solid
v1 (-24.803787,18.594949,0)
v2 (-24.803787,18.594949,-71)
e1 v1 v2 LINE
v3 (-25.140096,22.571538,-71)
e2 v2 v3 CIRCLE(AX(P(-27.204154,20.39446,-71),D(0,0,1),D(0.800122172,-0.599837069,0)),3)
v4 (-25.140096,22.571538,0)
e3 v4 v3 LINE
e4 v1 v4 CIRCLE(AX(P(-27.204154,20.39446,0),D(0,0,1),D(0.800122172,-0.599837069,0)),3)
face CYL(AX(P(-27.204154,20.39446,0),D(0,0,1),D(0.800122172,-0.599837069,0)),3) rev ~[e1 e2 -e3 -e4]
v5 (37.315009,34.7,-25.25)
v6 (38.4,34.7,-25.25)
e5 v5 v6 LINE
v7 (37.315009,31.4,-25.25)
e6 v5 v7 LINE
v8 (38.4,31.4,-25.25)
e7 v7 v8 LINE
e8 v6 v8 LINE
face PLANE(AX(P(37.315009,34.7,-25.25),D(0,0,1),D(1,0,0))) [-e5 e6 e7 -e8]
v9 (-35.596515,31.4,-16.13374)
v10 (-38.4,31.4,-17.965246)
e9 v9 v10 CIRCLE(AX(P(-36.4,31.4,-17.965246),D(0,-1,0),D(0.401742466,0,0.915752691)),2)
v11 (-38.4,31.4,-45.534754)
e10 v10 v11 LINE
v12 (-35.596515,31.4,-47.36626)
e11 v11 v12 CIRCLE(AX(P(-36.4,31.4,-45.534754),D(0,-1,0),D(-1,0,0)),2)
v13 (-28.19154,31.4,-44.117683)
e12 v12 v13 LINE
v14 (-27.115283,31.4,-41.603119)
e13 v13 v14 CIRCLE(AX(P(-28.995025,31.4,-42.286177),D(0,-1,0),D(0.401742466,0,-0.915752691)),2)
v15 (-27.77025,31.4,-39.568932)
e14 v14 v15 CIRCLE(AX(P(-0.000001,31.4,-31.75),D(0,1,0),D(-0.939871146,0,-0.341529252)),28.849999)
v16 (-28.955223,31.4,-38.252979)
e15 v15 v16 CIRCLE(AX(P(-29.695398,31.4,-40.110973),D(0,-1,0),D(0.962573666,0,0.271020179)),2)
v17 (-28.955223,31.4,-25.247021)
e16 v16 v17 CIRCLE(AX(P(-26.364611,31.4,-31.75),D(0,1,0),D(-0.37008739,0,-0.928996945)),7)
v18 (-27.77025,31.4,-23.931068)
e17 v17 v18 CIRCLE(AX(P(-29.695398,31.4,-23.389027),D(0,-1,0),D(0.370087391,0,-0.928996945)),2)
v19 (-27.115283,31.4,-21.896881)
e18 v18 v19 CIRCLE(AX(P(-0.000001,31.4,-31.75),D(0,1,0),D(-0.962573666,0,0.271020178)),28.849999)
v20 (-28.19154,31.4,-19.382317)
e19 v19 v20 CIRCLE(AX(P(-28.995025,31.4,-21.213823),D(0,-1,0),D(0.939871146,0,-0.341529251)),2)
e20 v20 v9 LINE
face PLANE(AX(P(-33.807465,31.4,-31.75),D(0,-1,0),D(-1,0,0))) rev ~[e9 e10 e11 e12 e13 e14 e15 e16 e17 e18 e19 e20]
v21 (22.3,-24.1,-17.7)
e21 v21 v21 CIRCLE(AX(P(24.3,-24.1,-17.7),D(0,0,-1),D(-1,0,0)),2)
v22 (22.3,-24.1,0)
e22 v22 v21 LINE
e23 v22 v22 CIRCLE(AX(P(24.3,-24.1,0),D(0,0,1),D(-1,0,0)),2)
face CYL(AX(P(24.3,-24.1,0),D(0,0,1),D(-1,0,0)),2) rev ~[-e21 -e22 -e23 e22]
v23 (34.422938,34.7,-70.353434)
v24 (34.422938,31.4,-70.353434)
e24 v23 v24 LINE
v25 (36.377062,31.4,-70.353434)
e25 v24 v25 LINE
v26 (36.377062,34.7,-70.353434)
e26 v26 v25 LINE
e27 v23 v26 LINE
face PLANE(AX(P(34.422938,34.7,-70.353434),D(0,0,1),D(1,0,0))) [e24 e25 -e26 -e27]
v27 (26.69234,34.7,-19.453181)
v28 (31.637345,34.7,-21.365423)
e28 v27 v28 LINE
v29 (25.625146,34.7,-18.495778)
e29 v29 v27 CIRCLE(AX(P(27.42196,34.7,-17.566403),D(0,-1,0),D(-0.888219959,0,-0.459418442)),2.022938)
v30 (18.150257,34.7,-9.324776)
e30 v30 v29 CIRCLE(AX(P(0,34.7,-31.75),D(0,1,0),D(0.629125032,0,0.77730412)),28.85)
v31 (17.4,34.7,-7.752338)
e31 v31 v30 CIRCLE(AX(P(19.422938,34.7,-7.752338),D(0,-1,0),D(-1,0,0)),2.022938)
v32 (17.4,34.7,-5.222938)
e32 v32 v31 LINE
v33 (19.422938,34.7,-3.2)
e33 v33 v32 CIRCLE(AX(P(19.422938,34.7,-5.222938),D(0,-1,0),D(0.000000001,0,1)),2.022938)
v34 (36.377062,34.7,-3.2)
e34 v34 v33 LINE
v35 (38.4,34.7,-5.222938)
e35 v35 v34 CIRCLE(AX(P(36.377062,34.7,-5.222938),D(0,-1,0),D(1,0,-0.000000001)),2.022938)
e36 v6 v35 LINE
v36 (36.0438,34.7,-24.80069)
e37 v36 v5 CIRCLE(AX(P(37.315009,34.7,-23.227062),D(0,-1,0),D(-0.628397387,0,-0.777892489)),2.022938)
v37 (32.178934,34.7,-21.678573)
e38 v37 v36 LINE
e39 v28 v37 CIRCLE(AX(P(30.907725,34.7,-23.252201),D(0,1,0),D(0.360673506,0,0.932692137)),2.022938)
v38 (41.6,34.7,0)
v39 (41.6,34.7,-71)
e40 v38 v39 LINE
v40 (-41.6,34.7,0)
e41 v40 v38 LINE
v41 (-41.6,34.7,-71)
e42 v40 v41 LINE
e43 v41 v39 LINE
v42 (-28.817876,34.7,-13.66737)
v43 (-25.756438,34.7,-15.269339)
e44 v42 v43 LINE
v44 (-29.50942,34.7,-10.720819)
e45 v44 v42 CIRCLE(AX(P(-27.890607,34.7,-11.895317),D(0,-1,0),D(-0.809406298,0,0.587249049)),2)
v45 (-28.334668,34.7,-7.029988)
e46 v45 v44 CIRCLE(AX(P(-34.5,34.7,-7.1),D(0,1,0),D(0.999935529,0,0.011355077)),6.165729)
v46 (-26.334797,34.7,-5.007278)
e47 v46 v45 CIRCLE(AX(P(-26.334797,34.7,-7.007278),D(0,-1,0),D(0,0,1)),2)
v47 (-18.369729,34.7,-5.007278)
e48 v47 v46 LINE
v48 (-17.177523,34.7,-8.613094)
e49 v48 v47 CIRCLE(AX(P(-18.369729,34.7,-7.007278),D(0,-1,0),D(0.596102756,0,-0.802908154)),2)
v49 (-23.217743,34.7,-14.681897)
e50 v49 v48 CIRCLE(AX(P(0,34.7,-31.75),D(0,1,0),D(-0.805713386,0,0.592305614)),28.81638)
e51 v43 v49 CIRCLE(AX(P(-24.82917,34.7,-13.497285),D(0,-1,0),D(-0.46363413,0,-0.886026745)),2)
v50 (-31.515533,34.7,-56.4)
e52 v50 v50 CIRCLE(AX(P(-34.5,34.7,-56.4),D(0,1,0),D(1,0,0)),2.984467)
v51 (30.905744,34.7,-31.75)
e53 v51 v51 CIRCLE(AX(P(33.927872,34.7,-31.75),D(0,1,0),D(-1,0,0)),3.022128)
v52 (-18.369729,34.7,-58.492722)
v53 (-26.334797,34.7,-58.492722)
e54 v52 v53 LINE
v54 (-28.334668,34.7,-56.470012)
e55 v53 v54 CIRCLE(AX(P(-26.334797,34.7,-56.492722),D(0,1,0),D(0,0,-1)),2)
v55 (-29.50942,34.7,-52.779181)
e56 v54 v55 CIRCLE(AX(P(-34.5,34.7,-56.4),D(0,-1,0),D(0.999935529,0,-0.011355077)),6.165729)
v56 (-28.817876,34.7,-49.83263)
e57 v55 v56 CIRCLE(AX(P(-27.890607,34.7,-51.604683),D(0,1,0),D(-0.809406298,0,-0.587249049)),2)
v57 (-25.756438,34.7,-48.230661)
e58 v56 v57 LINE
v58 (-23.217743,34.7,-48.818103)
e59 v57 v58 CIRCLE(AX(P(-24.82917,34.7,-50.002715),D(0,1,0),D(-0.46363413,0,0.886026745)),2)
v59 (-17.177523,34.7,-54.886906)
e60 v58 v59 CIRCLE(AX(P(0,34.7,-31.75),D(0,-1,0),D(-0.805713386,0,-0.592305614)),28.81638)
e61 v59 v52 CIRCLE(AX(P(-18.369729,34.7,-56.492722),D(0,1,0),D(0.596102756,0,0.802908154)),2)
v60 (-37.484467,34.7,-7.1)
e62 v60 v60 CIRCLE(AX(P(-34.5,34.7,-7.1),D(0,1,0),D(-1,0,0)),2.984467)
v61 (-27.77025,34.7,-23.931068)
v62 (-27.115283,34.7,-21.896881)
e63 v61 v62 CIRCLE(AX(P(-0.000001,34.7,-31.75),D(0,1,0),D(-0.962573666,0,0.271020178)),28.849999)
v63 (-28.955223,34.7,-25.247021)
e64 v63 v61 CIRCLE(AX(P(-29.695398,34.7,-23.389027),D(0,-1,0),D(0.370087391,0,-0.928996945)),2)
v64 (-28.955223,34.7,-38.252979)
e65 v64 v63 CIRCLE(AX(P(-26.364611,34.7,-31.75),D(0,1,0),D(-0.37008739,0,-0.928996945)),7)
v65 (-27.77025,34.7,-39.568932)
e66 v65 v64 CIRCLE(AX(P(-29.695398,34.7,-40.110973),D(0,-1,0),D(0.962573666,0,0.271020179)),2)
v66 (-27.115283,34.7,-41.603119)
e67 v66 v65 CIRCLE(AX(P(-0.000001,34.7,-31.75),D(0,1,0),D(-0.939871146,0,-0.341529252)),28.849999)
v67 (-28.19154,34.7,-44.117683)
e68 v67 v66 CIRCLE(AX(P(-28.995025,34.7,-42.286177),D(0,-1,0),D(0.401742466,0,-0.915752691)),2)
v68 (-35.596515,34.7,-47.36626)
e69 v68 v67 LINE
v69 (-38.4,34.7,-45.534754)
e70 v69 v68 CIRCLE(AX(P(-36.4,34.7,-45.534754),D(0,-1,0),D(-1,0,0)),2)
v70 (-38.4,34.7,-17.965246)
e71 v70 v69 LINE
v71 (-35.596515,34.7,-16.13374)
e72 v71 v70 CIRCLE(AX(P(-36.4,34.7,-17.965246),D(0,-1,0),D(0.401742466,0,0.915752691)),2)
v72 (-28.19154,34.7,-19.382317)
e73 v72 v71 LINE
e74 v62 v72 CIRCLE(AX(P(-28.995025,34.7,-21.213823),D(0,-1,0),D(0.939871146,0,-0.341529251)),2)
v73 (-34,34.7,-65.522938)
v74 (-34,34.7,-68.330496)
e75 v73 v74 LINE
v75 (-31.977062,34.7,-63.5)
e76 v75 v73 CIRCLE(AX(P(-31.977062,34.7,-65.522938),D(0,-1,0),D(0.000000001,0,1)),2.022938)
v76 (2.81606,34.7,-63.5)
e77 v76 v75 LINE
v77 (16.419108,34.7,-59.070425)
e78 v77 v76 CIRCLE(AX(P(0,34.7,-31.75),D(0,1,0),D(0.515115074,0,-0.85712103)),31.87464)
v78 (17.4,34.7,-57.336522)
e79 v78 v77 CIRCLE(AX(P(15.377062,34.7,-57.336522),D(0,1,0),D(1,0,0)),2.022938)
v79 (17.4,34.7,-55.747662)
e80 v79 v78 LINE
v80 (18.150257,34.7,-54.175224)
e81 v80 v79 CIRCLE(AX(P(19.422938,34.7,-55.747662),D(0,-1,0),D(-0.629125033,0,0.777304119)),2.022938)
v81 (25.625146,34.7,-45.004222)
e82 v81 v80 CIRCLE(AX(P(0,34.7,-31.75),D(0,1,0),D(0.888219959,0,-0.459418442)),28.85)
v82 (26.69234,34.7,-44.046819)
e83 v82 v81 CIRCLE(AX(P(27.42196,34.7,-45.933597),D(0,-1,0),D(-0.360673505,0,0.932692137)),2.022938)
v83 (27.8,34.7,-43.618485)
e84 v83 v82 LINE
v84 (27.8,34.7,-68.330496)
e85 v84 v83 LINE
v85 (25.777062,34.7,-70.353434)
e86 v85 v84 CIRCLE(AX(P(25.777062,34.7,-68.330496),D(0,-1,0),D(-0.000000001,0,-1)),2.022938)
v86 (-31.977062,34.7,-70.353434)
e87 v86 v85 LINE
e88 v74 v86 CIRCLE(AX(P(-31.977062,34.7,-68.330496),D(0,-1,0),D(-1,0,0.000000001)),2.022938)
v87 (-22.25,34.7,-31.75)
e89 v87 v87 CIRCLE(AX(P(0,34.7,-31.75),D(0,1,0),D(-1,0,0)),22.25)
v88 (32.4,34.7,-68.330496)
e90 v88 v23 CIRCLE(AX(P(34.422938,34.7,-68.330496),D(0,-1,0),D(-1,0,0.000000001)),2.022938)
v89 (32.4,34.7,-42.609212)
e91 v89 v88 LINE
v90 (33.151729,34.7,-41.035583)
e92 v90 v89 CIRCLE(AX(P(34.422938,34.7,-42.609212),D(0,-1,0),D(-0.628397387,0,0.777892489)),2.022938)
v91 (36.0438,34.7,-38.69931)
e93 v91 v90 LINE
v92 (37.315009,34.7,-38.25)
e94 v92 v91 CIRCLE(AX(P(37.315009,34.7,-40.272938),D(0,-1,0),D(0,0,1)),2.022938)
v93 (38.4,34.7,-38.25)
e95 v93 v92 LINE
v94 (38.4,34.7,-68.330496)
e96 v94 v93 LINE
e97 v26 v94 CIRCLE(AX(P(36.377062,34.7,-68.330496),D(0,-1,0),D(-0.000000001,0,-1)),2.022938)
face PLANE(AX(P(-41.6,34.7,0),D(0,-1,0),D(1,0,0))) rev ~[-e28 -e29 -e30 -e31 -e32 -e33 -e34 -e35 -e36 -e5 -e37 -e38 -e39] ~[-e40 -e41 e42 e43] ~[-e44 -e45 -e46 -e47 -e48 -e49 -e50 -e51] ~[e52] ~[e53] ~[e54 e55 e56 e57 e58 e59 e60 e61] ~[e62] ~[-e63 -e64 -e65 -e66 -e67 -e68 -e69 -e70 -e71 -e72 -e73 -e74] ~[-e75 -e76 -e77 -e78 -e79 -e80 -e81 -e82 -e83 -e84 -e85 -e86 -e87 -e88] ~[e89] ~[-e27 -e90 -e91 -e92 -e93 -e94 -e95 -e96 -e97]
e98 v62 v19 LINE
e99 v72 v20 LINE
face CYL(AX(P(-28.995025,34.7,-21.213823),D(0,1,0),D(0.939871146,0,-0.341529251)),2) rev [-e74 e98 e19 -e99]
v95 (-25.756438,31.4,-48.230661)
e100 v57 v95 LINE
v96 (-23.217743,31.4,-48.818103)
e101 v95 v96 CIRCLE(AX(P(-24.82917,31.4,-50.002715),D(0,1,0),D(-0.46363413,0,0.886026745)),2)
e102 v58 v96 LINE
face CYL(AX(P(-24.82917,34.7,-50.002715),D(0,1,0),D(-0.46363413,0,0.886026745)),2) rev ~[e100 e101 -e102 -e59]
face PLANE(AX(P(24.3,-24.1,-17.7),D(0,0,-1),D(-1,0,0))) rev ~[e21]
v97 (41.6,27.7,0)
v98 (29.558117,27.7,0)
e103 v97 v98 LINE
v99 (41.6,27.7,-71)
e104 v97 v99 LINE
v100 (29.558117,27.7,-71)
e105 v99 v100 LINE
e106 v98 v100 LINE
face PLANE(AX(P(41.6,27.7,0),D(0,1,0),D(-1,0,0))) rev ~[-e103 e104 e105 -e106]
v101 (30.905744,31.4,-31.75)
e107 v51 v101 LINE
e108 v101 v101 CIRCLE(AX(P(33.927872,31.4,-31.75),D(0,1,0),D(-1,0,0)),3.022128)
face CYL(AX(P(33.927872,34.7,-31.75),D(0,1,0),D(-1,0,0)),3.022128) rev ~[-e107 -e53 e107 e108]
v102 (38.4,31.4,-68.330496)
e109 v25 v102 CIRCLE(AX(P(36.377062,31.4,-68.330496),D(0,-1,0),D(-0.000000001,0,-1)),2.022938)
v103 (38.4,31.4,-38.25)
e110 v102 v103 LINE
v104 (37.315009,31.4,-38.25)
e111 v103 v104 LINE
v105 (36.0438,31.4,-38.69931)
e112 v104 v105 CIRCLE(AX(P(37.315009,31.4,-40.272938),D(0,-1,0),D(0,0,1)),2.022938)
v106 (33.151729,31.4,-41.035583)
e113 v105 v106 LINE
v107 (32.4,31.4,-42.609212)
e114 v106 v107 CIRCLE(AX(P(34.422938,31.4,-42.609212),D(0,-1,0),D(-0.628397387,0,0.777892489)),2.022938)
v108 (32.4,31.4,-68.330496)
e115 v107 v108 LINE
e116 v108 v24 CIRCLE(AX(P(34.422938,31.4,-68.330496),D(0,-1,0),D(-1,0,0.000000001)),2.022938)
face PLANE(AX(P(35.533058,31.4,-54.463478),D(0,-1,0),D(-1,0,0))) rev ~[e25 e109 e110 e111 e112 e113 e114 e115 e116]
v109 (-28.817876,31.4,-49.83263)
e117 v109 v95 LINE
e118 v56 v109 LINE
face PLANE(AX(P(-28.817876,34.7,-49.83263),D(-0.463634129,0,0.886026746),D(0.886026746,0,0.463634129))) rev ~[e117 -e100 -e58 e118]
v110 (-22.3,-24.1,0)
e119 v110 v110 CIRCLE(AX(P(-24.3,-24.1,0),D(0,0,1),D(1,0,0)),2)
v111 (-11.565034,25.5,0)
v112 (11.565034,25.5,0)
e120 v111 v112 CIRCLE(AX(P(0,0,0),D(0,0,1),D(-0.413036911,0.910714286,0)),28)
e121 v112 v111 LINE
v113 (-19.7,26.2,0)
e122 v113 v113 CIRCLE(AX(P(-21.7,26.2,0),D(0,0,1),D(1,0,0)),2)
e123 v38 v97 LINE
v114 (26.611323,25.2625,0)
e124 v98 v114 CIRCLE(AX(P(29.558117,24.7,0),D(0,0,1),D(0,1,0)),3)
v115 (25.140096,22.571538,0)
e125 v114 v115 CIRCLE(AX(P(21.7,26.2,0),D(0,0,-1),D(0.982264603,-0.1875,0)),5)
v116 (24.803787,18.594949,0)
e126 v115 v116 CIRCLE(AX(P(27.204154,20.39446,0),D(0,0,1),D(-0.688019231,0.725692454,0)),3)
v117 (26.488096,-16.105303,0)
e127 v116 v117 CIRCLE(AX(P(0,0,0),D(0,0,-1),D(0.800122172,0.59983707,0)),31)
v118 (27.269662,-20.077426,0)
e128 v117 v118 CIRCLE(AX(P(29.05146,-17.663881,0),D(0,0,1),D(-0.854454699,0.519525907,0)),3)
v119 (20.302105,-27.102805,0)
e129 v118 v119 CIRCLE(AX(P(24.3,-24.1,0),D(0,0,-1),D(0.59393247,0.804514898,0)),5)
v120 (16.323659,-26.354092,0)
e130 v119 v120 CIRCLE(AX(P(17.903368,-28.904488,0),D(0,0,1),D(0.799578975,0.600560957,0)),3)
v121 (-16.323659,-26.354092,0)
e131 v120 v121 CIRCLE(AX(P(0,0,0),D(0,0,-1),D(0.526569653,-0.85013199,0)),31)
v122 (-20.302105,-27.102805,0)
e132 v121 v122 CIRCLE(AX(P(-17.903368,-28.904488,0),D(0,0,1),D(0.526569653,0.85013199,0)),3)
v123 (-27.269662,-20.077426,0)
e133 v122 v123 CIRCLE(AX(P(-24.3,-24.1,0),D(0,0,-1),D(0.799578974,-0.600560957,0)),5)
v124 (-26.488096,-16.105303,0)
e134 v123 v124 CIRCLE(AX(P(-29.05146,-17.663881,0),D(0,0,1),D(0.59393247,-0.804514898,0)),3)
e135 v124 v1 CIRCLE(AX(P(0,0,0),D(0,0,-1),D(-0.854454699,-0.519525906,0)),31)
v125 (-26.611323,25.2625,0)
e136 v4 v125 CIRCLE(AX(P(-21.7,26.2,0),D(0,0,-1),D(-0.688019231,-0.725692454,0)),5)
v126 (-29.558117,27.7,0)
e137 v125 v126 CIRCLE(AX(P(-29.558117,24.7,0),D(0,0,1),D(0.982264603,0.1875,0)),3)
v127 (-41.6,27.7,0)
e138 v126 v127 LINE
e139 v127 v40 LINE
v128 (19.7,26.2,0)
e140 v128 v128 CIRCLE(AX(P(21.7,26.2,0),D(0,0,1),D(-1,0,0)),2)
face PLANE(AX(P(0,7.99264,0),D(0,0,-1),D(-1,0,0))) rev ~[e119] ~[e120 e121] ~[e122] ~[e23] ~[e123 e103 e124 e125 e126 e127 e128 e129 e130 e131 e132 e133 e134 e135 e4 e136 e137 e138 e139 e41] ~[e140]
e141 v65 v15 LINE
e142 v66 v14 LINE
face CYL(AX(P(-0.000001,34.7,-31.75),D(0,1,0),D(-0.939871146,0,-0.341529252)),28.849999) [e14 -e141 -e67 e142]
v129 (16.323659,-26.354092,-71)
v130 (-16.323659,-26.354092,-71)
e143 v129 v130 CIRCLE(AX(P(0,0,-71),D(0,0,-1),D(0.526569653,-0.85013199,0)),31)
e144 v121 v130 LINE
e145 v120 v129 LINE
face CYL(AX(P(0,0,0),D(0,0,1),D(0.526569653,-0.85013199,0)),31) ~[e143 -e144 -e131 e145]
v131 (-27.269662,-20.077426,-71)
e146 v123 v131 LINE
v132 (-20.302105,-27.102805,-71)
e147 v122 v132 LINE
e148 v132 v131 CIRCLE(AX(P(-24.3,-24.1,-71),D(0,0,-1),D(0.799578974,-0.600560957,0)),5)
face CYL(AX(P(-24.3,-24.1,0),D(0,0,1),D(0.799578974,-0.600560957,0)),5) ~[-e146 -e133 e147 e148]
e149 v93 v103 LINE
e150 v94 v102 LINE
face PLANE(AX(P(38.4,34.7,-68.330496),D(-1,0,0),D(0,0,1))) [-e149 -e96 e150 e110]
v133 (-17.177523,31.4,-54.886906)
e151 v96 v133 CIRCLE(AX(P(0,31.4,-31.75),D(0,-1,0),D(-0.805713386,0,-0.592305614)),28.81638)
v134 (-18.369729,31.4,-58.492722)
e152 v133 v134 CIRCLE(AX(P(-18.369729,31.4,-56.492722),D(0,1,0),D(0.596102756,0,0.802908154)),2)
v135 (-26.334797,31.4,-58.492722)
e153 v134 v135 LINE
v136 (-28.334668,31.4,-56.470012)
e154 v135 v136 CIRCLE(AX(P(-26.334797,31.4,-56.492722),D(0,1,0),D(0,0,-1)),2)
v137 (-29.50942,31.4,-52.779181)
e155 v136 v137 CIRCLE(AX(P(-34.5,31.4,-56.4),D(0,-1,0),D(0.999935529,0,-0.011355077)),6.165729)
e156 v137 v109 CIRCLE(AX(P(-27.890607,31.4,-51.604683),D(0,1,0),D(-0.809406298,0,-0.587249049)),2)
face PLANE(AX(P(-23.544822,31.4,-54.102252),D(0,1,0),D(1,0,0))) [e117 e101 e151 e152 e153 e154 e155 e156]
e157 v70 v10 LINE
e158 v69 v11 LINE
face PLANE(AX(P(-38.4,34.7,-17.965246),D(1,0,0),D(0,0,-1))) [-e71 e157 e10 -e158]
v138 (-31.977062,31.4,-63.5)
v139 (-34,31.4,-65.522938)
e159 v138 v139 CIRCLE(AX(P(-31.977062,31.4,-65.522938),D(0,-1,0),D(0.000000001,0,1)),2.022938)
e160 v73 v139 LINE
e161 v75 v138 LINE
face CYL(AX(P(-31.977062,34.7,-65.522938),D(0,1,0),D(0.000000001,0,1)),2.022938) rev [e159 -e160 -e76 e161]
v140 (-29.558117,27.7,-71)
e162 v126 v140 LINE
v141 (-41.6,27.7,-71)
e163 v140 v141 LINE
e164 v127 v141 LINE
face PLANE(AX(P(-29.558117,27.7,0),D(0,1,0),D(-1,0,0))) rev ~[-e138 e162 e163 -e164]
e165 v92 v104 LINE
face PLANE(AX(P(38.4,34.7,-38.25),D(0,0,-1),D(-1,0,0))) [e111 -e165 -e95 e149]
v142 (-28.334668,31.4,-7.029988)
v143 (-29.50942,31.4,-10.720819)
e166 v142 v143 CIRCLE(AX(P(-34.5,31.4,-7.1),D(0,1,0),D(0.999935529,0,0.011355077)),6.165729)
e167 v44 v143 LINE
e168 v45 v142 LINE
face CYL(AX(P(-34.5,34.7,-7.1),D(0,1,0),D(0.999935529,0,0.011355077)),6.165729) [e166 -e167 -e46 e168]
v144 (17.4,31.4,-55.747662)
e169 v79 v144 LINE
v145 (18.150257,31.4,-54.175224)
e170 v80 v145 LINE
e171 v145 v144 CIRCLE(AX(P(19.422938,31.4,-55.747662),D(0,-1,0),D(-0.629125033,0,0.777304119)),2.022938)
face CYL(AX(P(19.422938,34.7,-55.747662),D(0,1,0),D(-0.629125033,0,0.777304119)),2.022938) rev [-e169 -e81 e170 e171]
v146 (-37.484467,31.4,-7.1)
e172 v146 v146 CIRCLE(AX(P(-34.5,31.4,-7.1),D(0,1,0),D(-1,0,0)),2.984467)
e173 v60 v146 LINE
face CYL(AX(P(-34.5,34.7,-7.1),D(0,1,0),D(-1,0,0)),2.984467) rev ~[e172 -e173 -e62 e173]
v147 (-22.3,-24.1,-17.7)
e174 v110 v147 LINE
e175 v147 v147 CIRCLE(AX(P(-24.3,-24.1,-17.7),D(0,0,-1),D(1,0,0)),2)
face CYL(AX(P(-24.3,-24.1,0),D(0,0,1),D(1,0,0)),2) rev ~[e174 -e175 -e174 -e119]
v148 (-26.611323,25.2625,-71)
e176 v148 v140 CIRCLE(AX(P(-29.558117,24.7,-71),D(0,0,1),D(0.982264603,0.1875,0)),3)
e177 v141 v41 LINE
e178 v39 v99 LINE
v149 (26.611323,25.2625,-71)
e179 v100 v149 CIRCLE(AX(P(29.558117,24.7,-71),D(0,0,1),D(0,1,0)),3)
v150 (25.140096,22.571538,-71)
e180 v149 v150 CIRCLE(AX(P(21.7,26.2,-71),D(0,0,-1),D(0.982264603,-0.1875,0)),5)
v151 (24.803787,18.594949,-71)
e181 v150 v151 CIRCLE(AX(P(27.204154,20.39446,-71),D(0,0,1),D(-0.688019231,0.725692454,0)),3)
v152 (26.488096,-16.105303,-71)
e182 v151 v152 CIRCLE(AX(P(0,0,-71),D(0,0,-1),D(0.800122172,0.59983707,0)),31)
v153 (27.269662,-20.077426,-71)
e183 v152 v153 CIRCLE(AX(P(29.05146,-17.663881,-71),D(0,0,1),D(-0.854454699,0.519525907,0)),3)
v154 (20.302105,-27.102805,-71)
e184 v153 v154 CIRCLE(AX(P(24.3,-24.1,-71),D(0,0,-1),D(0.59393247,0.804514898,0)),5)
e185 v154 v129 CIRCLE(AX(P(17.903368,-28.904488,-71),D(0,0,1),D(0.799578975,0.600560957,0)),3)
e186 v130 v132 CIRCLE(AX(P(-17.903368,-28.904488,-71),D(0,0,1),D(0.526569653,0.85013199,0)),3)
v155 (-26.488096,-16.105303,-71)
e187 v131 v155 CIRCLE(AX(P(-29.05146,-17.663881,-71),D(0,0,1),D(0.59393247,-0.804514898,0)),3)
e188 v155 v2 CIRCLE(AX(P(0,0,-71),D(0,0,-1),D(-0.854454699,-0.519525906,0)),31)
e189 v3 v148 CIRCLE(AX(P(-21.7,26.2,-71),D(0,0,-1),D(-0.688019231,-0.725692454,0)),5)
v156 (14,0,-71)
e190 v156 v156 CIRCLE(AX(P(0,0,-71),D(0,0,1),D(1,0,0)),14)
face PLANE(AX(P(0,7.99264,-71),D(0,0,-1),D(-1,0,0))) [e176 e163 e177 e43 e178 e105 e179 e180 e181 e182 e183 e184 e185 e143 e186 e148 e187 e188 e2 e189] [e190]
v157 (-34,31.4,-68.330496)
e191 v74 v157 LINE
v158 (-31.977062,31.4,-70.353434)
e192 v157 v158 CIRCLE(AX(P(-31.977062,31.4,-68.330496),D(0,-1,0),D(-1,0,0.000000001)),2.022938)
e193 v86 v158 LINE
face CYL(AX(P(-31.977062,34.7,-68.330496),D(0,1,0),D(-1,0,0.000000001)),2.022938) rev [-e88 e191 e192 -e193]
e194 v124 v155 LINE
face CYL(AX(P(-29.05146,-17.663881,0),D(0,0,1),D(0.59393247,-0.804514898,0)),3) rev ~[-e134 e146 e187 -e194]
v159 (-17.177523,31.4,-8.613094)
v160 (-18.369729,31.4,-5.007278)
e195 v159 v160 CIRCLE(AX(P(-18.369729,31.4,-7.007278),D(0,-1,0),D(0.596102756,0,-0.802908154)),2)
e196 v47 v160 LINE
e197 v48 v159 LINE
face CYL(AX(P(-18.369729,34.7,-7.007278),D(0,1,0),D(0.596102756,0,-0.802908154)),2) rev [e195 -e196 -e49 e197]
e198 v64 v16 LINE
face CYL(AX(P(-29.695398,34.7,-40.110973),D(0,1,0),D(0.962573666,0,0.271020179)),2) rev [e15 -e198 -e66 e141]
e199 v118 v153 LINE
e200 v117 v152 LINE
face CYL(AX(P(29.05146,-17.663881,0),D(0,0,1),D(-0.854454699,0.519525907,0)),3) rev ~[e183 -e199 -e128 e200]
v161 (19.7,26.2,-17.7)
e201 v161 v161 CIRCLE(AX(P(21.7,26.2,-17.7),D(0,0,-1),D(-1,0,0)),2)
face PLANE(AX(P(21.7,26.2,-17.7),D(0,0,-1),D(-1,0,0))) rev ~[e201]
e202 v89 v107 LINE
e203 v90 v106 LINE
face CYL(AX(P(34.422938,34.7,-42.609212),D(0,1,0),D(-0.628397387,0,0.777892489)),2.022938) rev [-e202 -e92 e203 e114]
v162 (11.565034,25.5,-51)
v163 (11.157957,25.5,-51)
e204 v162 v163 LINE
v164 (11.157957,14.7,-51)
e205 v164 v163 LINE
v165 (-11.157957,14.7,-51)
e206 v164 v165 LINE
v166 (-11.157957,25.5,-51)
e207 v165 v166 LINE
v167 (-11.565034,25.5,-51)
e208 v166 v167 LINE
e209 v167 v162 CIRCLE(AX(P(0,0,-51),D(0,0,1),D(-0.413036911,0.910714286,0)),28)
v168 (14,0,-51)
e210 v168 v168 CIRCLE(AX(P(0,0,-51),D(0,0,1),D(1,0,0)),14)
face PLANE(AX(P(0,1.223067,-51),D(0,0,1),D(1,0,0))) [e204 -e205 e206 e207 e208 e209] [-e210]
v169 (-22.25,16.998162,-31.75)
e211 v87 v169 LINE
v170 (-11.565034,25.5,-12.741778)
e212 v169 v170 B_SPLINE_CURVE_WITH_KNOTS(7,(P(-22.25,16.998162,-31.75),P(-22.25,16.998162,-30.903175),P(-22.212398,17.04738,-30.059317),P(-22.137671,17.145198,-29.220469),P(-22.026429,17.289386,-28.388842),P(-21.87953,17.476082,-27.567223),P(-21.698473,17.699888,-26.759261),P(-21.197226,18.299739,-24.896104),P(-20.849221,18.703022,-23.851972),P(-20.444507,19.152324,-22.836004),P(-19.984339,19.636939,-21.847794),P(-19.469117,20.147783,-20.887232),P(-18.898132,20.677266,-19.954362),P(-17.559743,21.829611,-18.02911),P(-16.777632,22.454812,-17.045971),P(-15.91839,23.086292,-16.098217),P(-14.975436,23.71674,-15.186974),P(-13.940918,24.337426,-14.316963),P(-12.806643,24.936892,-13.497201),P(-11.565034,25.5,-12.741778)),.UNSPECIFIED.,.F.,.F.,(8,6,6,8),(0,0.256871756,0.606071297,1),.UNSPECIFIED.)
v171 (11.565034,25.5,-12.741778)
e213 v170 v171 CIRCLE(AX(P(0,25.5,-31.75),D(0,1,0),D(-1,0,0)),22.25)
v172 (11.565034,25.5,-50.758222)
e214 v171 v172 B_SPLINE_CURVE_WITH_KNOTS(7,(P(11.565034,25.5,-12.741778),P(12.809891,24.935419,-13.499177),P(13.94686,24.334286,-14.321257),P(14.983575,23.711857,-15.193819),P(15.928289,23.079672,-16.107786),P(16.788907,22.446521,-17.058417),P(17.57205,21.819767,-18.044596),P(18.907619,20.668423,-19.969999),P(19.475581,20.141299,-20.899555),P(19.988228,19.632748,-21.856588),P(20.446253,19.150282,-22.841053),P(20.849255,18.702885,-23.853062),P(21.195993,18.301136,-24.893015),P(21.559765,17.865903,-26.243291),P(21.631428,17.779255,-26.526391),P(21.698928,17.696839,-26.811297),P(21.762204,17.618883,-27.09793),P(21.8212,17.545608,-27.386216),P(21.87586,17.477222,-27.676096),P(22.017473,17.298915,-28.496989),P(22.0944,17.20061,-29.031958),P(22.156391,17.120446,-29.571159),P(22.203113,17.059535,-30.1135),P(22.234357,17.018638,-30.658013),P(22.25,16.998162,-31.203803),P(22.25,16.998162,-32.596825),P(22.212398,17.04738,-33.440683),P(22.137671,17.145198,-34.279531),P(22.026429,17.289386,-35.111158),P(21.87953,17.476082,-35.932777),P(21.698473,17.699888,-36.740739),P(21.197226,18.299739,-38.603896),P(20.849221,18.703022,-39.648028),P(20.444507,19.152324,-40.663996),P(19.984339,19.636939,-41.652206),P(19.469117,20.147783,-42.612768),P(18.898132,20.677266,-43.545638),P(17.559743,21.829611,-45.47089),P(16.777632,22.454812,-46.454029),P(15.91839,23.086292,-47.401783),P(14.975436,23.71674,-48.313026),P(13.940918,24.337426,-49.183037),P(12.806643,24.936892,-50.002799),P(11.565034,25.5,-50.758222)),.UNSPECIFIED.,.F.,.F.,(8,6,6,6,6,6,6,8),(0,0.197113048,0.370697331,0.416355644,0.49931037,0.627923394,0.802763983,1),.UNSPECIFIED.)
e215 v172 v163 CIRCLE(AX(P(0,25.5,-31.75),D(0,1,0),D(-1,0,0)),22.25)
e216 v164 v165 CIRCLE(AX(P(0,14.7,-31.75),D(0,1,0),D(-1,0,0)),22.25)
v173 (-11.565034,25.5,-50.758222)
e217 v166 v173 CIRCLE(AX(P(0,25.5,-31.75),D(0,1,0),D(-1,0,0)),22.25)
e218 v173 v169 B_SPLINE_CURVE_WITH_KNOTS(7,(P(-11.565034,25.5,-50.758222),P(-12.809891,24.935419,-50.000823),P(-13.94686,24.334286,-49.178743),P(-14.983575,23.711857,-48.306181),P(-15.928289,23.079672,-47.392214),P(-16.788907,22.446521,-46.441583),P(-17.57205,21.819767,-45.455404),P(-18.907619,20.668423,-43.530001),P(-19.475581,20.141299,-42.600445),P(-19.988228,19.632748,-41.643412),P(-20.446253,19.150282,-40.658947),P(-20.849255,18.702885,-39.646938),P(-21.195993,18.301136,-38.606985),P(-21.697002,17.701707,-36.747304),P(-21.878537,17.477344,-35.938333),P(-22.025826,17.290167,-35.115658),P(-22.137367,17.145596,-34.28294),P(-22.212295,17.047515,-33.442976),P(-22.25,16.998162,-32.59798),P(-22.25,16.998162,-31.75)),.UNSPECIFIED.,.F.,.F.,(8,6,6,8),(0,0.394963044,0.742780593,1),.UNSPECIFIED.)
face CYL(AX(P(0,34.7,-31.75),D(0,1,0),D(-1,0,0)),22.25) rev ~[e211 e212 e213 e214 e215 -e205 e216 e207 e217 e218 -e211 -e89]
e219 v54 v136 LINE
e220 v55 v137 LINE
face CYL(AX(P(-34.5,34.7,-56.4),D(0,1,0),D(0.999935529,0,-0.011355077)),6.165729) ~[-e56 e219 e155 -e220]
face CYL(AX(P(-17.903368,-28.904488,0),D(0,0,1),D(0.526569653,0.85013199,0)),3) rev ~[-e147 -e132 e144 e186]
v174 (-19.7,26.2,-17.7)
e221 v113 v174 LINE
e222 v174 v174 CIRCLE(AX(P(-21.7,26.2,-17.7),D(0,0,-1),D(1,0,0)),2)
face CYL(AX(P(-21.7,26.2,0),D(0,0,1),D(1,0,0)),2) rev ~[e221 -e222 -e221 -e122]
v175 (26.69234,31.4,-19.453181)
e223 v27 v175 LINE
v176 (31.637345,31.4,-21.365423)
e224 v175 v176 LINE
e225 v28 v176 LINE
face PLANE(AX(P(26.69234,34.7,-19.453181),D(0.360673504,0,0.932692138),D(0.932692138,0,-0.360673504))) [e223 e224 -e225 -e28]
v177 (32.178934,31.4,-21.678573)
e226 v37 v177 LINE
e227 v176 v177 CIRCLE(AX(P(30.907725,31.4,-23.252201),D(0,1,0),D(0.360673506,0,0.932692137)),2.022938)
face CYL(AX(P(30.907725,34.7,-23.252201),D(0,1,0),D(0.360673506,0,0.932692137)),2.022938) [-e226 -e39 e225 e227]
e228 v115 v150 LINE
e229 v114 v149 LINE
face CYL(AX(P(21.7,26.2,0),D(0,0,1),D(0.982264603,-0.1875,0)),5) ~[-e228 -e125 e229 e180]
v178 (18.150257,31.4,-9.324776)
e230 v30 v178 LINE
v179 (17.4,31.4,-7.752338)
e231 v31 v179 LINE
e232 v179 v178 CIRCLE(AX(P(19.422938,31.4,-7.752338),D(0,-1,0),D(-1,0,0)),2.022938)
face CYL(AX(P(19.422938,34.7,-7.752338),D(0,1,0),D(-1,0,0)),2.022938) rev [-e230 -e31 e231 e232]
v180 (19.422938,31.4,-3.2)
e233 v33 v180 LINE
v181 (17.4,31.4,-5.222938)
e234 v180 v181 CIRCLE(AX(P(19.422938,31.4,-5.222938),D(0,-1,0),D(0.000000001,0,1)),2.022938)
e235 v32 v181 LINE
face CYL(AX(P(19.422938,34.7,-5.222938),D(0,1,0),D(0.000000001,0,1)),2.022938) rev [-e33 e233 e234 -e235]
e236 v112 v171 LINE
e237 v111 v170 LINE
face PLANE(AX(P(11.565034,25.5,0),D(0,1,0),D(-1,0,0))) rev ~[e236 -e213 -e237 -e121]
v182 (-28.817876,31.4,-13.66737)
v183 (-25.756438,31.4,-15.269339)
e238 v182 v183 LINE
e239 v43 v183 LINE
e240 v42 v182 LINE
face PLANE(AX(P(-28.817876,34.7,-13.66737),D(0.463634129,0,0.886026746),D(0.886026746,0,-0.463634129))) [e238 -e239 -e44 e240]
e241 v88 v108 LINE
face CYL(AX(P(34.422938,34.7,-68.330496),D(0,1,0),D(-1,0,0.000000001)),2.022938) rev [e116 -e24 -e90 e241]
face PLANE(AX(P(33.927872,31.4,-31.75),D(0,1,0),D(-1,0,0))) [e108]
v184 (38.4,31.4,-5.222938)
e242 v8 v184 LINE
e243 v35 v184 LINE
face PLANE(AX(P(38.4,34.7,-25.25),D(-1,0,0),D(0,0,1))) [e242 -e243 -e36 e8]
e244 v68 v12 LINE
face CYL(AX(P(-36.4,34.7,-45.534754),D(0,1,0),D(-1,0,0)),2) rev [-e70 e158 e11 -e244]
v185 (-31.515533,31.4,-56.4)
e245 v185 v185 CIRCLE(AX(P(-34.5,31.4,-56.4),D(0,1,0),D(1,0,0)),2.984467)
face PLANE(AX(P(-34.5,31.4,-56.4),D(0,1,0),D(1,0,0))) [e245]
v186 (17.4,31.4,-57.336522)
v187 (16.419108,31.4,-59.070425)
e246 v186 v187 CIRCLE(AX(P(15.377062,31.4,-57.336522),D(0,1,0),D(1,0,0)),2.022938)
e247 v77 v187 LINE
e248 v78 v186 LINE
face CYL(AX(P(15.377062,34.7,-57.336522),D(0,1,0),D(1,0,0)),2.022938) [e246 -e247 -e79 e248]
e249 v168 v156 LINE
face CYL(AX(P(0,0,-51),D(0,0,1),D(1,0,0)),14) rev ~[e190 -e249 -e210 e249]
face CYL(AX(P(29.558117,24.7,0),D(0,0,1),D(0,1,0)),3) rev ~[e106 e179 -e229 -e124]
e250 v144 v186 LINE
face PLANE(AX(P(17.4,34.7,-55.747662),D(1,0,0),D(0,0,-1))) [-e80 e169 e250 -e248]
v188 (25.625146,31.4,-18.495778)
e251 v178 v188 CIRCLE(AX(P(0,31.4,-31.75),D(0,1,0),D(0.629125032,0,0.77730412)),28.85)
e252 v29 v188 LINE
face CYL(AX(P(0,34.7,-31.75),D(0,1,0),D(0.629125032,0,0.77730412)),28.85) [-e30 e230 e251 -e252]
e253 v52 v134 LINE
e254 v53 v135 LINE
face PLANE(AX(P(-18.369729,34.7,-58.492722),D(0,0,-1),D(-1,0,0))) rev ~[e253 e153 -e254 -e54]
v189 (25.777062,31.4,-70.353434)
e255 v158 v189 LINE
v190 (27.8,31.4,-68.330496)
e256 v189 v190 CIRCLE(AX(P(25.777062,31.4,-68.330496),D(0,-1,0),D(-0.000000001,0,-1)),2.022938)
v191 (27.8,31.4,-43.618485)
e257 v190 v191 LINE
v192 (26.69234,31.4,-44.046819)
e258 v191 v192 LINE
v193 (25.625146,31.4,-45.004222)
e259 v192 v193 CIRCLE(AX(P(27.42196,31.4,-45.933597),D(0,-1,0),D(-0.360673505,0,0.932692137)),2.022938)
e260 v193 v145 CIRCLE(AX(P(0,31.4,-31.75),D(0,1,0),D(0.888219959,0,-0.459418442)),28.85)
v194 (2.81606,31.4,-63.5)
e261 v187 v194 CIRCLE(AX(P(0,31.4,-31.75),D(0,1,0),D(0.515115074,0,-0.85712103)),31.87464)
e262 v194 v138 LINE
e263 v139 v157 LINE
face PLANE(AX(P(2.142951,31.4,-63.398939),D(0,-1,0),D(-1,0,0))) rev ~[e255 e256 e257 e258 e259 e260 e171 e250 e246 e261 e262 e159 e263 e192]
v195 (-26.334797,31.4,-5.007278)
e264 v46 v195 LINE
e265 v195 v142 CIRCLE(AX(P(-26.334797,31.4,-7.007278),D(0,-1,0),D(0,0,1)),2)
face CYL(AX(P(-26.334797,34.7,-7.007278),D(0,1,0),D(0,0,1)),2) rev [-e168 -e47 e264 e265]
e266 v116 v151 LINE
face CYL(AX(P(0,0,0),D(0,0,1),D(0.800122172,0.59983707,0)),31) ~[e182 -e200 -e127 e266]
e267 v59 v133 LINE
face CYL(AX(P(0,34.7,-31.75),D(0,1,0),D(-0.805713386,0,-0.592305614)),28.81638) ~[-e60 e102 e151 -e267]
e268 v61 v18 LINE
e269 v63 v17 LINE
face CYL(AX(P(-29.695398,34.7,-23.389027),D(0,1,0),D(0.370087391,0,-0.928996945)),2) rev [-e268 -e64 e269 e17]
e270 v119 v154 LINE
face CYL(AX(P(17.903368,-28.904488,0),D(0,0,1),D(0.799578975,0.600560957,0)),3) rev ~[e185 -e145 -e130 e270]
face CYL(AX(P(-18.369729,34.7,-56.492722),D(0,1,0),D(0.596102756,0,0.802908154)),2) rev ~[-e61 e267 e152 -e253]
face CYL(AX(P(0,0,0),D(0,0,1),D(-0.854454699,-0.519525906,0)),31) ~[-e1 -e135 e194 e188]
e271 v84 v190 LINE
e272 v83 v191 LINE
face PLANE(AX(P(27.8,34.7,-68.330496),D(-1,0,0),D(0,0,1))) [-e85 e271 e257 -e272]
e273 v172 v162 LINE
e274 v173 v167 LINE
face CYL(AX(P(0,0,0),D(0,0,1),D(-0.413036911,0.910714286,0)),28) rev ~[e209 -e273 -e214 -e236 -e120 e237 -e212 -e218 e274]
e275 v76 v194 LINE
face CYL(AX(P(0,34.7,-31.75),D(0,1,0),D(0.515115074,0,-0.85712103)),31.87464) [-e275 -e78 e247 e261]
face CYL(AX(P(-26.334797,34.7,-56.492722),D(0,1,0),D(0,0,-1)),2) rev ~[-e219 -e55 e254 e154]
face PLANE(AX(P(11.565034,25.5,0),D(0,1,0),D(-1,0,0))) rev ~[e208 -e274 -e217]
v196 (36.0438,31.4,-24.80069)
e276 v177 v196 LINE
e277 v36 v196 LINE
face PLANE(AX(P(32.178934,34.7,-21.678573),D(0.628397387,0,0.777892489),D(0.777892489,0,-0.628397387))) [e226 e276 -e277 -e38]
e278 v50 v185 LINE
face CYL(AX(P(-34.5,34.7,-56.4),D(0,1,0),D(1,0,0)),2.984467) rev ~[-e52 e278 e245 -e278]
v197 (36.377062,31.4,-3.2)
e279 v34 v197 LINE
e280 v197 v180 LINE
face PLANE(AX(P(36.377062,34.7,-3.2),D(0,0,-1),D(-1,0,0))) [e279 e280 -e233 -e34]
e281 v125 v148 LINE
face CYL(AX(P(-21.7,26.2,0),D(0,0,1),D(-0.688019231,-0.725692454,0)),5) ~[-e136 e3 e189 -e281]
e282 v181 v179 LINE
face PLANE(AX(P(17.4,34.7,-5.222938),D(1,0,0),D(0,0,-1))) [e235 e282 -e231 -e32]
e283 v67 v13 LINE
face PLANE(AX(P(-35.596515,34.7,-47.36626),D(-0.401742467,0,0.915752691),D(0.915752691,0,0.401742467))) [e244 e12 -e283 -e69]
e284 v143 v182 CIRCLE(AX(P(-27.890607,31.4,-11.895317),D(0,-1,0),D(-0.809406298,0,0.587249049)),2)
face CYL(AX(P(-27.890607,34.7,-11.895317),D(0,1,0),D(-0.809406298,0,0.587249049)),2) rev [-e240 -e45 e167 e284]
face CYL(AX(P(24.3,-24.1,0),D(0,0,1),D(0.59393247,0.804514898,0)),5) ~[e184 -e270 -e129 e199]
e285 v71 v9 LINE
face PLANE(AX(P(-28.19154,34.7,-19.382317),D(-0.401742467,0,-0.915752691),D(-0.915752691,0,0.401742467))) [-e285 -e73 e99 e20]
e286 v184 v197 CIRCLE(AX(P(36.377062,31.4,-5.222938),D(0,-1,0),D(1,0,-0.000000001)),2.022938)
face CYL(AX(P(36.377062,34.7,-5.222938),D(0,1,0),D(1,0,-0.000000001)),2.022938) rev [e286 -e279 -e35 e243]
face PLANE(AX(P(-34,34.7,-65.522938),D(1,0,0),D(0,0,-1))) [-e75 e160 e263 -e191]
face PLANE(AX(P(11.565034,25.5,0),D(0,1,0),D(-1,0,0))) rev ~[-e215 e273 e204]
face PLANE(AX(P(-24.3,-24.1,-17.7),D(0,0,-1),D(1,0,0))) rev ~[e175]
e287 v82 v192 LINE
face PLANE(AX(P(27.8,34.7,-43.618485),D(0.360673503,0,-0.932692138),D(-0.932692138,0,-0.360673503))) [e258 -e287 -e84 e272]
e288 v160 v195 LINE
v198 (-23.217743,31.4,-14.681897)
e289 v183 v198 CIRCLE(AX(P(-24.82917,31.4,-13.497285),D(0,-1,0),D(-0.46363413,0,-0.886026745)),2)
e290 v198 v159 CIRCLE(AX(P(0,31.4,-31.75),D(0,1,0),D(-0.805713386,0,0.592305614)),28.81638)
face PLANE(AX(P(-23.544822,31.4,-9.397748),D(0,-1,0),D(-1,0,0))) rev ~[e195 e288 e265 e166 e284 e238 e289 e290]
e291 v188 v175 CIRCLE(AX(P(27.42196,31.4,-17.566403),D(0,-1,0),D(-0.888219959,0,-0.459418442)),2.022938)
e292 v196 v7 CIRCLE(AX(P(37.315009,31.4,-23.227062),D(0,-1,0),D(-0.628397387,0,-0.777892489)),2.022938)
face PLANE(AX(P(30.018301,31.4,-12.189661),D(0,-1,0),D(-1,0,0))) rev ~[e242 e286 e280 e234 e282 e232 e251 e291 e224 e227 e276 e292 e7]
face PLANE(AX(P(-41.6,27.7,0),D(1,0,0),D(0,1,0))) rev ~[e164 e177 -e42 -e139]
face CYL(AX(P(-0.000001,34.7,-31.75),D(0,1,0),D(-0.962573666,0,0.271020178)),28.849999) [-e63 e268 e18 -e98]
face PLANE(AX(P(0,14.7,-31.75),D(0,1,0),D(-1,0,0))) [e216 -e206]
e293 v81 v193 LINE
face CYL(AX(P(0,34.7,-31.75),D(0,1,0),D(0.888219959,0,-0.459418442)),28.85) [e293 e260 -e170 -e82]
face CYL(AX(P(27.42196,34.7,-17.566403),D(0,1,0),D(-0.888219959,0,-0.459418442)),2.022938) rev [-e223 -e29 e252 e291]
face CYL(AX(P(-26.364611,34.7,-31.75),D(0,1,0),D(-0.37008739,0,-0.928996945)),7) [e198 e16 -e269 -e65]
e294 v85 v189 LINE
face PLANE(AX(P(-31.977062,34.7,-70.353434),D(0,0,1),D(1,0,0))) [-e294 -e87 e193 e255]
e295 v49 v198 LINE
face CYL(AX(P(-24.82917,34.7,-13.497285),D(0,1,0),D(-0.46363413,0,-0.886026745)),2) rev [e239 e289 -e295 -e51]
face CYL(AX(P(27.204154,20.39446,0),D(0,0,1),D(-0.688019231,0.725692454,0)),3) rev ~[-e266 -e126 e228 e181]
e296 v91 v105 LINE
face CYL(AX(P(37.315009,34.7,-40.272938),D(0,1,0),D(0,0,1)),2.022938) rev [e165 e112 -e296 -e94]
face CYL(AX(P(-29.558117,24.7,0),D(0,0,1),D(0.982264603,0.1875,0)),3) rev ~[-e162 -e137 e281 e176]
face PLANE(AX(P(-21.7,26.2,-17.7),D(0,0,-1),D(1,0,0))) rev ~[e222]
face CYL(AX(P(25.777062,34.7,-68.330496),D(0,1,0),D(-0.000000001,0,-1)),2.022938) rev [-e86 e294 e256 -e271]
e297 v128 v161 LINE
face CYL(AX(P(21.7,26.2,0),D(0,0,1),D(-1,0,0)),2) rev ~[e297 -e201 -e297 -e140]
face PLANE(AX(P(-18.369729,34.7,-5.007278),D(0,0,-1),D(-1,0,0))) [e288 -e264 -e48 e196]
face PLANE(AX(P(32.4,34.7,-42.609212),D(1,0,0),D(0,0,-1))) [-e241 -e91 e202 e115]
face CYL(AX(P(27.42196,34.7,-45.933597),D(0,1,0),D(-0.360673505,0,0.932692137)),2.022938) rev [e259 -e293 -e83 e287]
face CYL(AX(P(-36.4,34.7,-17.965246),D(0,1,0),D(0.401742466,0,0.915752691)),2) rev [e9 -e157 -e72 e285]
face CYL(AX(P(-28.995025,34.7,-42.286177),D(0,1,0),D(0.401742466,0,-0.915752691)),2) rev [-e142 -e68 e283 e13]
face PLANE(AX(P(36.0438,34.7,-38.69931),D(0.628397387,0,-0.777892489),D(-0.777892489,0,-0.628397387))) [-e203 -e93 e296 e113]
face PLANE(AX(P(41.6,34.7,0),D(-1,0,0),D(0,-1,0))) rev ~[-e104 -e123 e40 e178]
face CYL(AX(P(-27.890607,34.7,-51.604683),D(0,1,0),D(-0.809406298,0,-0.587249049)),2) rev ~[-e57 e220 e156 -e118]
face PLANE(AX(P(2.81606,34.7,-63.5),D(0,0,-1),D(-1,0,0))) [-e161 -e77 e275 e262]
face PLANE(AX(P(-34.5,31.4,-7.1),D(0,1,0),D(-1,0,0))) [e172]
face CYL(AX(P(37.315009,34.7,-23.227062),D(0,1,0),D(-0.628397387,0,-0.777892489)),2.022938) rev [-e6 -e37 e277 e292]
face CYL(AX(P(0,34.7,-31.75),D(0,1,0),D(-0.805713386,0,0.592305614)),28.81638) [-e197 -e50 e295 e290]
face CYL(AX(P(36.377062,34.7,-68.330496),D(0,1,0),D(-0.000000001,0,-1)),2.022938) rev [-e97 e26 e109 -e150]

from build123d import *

# Parameters (mm, degrees)
SKETCH1_R           = 2
BOSS_EXTRUDE1_DEPTH = 71
BOSS_EXTRUDE2_START = -20
BOSS_EXTRUDE2_DEPTH = 20
SKETCH4_R           = 22.25
CUT_EXTRUDE1_DEPTH  = 20
SKETCH5_R           = 3.022127891
SKETCH5_R_2         = 2.984467426
CUT_EXTRUDE2_DEPTH  = 3.3
BOSS_EXTRUDE3_START = -53.3
SKETCH6_R           = 2
BOSS_EXTRUDE3_DEPTH = 53.3
SKETCH7_R           = 22.25
CUT_EXTRUDE4_DEPTH  = 20
SKETCH8_R           = 14
CUT_EXTRUDE5_DEPTH  = 29


with BuildPart() as part:
    # Sketch1 → Boss-Extrude1 (new body)
    with BuildSketch(Plane.XY):
        with BuildLine():
            Line((-41.6, 34.7), (41.6, 34.7))
            Line((41.6, 34.7), (41.6, 27.7))
            Line((41.6, 27.7), (29.558116823, 27.7))
            ThreePointArc((29.558116823, 27.7), (27.645984505, 27.011655251), (26.611323014, 25.2625))
            ThreePointArc((26.611323014, 25.2625), (26.087125484, 23.80143168), (25.140096153, 22.571537728))
            ThreePointArc((25.140096153, 22.571537728), (24.214825318, 20.64727444), (24.803787329, 18.594949156))
            ThreePointArc((24.803787329, 18.594949156), (30.963546179, 1.502933138), (26.488095667, -16.1053031))
            ThreePointArc((26.488095667, -16.1053031), (26.107899632, -18.243064514), (27.269662352, -20.077425512))
            ThreePointArc((27.269662352, -20.077425512), (27.850113241, -27.620894202), (20.302105128, -27.102804788))
            ThreePointArc((20.302105128, -27.102804788), (18.458205593, -25.956241491), (16.323659246, -26.35409169))
            ThreePointArc((16.323659246, -26.35409169), (0, -31), (-16.323659246, -26.35409169))
            ThreePointArc((-16.323659246, -26.35409169), (-18.458205593, -25.956241491), (-20.302105128, -27.102804788))
            ThreePointArc((-20.302105128, -27.102804788), (-27.850113241, -27.620894202), (-27.269662352, -20.077425512))
            ThreePointArc((-27.269662352, -20.077425512), (-26.107899632, -18.243064514), (-26.488095667, -16.1053031))
            ThreePointArc((-26.488095667, -16.1053031), (-30.963546179, 1.502933138), (-24.803787329, 18.594949156))
            ThreePointArc((-24.803787329, 18.594949156), (-24.214825318, 20.64727444), (-25.140096153, 22.571537728))
            ThreePointArc((-25.140096153, 22.571537728), (-26.087125484, 23.80143168), (-26.611323014, 25.2625))
            ThreePointArc((-26.611323014, 25.2625), (-27.645984505, 27.011655251), (-29.558116823, 27.7))
            Line((-29.558116823, 27.7), (-41.6, 27.7))
            Line((-41.6, 27.7), (-41.6, 34.7))
        make_face()
        with Locations((-24.3, -24.1)):
            Circle(SKETCH1_R, mode=Mode.SUBTRACT)
        with Locations(Location((24.3, -24.1, 0), (0, 0, 180))):
            Circle(SKETCH1_R, mode=Mode.SUBTRACT)
        with Locations((-21.7, 26.2)):
            Circle(SKETCH1_R, mode=Mode.SUBTRACT)
        with Locations(Location((21.7, 26.2, 0), (0, 0, 180))):
            Circle(SKETCH1_R, mode=Mode.SUBTRACT)
        with BuildLine():
            Line((0, 25.5), (-11.565033506, 25.5))
            ThreePointArc((-11.565033506, 25.5), (0, -28), (11.565033506, 25.5))
            Line((11.565033506, 25.5), (0, 25.5))
        make_face(mode=Mode.SUBTRACT)
    extrude(amount=-BOSS_EXTRUDE1_DEPTH)

    # Sketch3 → Boss-Extrude2 (add)
    with BuildSketch(Plane(origin=(0, 0, -71), x_dir=(-1, 0, 0), z_dir=(0, 0, -1)).offset(BOSS_EXTRUDE2_START)):
        with BuildLine():
            Line((-11.565033506, 25.5), (11.565033506, 25.5))
            ThreePointArc((11.565033506, 25.5), (0, -28), (-11.565033506, 25.5))
        make_face()
    extrude(amount=BOSS_EXTRUDE2_DEPTH)

    # Sketch4 → Cut-Extrude1 (cut)
    with BuildSketch(Plane(origin=(0, 34.7, 0), x_dir=(1, 0, 0), z_dir=(0, 1, 0))):
        with Locations(Location((0, 31.75, 0), (0, 0, 180))):
            Circle(SKETCH4_R)
    extrude(amount=-CUT_EXTRUDE1_DEPTH, mode=Mode.SUBTRACT)

    # Sketch5 → Cut-Extrude2 (cut)
    with BuildSketch(Plane(origin=(0, 34.7, 0), x_dir=(1, 0, 0), z_dir=(0, 1, 0))):
        with Locations(Location((33.927872109, 31.75, 0), (0, 0, 180))):
            Circle(SKETCH5_R)
        with Locations(Location((-34.5, 7.1, 0), (0, 0, 180))):
            Circle(SKETCH5_R_2)
        with Locations((-34.5, 56.4)):
            Circle(SKETCH5_R_2)
        with BuildLine():
            Line((17.4, 5.222938284), (17.4, 7.752337891))
            ThreePointArc((17.4, 7.752337891), (17.597173424, 8.623464734), (18.150257171, 9.324776153))
            ThreePointArc((18.150257171, 9.324776153), (22.362877615, 13.522981462), (25.625145816, 18.495777959))
            ThreePointArc((25.625145816, 18.495777959), (26.071081355, 19.072193711), (26.692339737, 19.453181438))
            Line((26.692339737, 19.453181438), (31.637345031, 21.365422694))
            ThreePointArc((31.637345031, 21.365422694), (31.920318143, 21.500934926), (32.178933924, 21.67857283))
            Line((32.178933924, 21.67857283), (36.043799869, 24.800690212))
            ThreePointArc((36.043799869, 24.800690212), (36.640870302, 25.134367752), (37.315009001, 25.25))
            Line((37.315009001, 25.25), (38.4, 25.25))
            Line((38.4, 25.25), (38.4, 5.222938284))
            ThreePointArc((38.4, 5.222938284), (37.807495095, 3.792504905), (36.377061716, 3.2))
            Line((36.377061716, 3.2), (19.422938284, 3.2))
            ThreePointArc((19.422938284, 3.2), (17.992504905, 3.792504905), (17.4, 5.222938284))
        make_face()
        with BuildLine():
            Line((38.4, 38.25), (37.315009001, 38.25))
            ThreePointArc((37.315009001, 38.25), (36.640870302, 38.365632248), (36.043799869, 38.699309788))
            Line((36.043799869, 38.699309788), (33.151729153, 41.035583382))
            ThreePointArc((33.151729153, 41.035583382), (32.597581207, 41.737230892), (32.4, 42.609211879))
            Line((32.4, 42.609211879), (32.4, 68.330496056))
            ThreePointArc((32.4, 68.330496056), (32.992504905, 69.760929435), (34.422938284, 70.35343434))
            Line((34.422938284, 70.35343434), (36.377061716, 70.35343434))
            ThreePointArc((36.377061716, 70.35343434), (37.807495095, 69.760929435), (38.4, 68.330496056))
            Line((38.4, 68.330496056), (38.4, 38.25))
        make_face()
        with BuildLine():
            Line((27.8, 43.618484612), (26.692339737, 44.046818562))
            ThreePointArc((26.692339737, 44.046818562), (26.071081355, 44.427806289), (25.625145816, 45.004222041))
            ThreePointArc((25.625145816, 45.004222041), (22.362877615, 49.977018538), (18.150257171, 54.175223847))
            ThreePointArc((18.150257171, 54.175223847), (17.597173424, 54.876535266), (17.4, 55.747662109))
            Line((17.4, 55.747662109), (17.4, 57.336521607))
            ThreePointArc((17.4, 57.336521607), (17.137782315, 58.332584995), (16.41910772, 59.070424553))
            ThreePointArc((16.41910772, 59.070424553), (9.869306341, 62.058241262), (2.816060384, 63.5))
            Line((2.816060384, 63.5), (-31.977061716, 63.5))
            ThreePointArc((-31.977061716, 63.5), (-33.407495095, 64.092504905), (-34, 65.522938284))
            Line((-34, 65.522938284), (-34, 68.330496056))
            ThreePointArc((-34, 68.330496056), (-33.407495095, 69.760929435), (-31.977061716, 70.35343434))
            Line((-31.977061716, 70.35343434), (25.777061716, 70.35343434))
            ThreePointArc((25.777061716, 70.35343434), (27.207495095, 69.760929435), (27.8, 68.330496056))
            Line((27.8, 68.330496056), (27.8, 43.618484612))
        make_face()
        with BuildLine():
            Line((-35.596515067, 47.366259615), (-28.191539915, 44.117682775))
            ThreePointArc((-28.191539915, 44.117682775), (-27.15636094, 43.073143107), (-27.115282556, 41.603118892))
            ThreePointArc((-27.115282556, 41.603118892), (-27.46160788, 40.592092097), (-27.77025027, 39.568932147))
            ThreePointArc((-27.77025027, 39.568932147), (-28.20915438, 38.772659729), (-28.955222822, 38.252978614))
            ThreePointArc((-28.955222822, 38.252978614), (-33.364611091, 31.75), (-28.955222822, 25.247021386))
            ThreePointArc((-28.955222822, 25.247021386), (-28.20915438, 24.727340271), (-27.77025027, 23.931067853))
            ThreePointArc((-27.77025027, 23.931067853), (-27.46160788, 22.907907903), (-27.115282556, 21.896881108))
            ThreePointArc((-27.115282556, 21.896881108), (-27.15636094, 20.426856893), (-28.191539915, 19.382317225))
            Line((-28.191539915, 19.382317225), (-35.596515067, 16.133740385))
            ThreePointArc((-35.596515067, 16.133740385), (-37.493853311, 16.290884715), (-38.4, 17.965245767))
            Line((-38.4, 17.965245767), (-38.4, 45.534754233))
            ThreePointArc((-38.4, 45.534754233), (-37.493853311, 47.209115285), (-35.596515067, 47.366259615))
        make_face()
        with BuildLine():
            Line((-18.369728815, 5.007277506), (-26.334797191, 5.007277506))
            ThreePointArc((-26.334797191, 5.007277506), (-27.757017341, 5.60111612), (-28.334668249, 7.029987663))
            ThreePointArc((-28.334668249, 7.029987663), (-28.624699957, 8.970044578), (-29.509419908, 10.720818646))
            ThreePointArc((-29.509419908, 10.720818646), (-29.837700915, 12.352292131), (-28.817875571, 13.667370236))
            Line((-28.817875571, 13.667370236), (-25.756437816, 15.269338838))
            ThreePointArc((-25.756437816, 15.269338838), (-24.378292278, 15.445800084), (-23.217742786, 14.681896575))
            ThreePointArc((-23.217742786, 14.681896575), (-20.424298577, 11.421897229), (-17.177523303, 8.613093816))
            ThreePointArc((-17.177523303, 8.613093816), (-16.470830105, 6.379437009), (-18.369728815, 5.007277506))
        make_face()
        with BuildLine():
            Line((-18.369728815, 58.492722494), (-26.334797191, 58.492722494))
            ThreePointArc((-26.334797191, 58.492722494), (-27.757017341, 57.89888388), (-28.334668249, 56.470012337))
            ThreePointArc((-28.334668249, 56.470012337), (-28.624699957, 54.529955422), (-29.509419908, 52.779181354))
            ThreePointArc((-29.509419908, 52.779181354), (-29.837700915, 51.147707869), (-28.817875571, 49.832629764))
            Line((-28.817875571, 49.832629764), (-25.756437816, 48.230661162))
            ThreePointArc((-25.756437816, 48.230661162), (-24.378292278, 48.054199916), (-23.217742786, 48.818103425))
            ThreePointArc((-23.217742786, 48.818103425), (-20.424298577, 52.078102771), (-17.177523303, 54.886906184))
            ThreePointArc((-17.177523303, 54.886906184), (-16.470830105, 57.120562991), (-18.369728815, 58.492722494))
        make_face()
    extrude(amount=-CUT_EXTRUDE2_DEPTH, mode=Mode.SUBTRACT)

    # Sketch6 → Boss-Extrude3 (add)
    with BuildSketch(Plane(origin=(0, 0, -71), x_dir=(-1, 0, 0), z_dir=(0, 0, -1)).offset(BOSS_EXTRUDE3_START)):
        with Locations((-21.7, 26.2)):
            Circle(SKETCH6_R)
        with Locations(Location((21.7, 26.2, 0), (0, 0, 180))):
            Circle(SKETCH6_R)
        with Locations(Location((24.3, -24.1, 0), (0, 0, 180))):
            Circle(SKETCH6_R)
        with Locations((-24.3, -24.1)):
            Circle(SKETCH6_R)
    extrude(amount=BOSS_EXTRUDE3_DEPTH)

    # Sketch7 → Cut-Extrude4 (cut)
    with BuildSketch(Plane(origin=(0, 34.7, 0), x_dir=(1, 0, 0), z_dir=(0, 1, 0))):
        with Locations(Location((0, 31.75, 0), (0, 0, 180))):
            Circle(SKETCH7_R)
    extrude(amount=-CUT_EXTRUDE4_DEPTH, mode=Mode.SUBTRACT)

    # Sketch8 → Cut-Extrude5 (cut)
    with BuildSketch(Plane.XY.offset(-51)):
        Circle(SKETCH8_R)
    extrude(amount=-CUT_EXTRUDE5_DEPTH, mode=Mode.SUBTRACT)


solid = part.part
